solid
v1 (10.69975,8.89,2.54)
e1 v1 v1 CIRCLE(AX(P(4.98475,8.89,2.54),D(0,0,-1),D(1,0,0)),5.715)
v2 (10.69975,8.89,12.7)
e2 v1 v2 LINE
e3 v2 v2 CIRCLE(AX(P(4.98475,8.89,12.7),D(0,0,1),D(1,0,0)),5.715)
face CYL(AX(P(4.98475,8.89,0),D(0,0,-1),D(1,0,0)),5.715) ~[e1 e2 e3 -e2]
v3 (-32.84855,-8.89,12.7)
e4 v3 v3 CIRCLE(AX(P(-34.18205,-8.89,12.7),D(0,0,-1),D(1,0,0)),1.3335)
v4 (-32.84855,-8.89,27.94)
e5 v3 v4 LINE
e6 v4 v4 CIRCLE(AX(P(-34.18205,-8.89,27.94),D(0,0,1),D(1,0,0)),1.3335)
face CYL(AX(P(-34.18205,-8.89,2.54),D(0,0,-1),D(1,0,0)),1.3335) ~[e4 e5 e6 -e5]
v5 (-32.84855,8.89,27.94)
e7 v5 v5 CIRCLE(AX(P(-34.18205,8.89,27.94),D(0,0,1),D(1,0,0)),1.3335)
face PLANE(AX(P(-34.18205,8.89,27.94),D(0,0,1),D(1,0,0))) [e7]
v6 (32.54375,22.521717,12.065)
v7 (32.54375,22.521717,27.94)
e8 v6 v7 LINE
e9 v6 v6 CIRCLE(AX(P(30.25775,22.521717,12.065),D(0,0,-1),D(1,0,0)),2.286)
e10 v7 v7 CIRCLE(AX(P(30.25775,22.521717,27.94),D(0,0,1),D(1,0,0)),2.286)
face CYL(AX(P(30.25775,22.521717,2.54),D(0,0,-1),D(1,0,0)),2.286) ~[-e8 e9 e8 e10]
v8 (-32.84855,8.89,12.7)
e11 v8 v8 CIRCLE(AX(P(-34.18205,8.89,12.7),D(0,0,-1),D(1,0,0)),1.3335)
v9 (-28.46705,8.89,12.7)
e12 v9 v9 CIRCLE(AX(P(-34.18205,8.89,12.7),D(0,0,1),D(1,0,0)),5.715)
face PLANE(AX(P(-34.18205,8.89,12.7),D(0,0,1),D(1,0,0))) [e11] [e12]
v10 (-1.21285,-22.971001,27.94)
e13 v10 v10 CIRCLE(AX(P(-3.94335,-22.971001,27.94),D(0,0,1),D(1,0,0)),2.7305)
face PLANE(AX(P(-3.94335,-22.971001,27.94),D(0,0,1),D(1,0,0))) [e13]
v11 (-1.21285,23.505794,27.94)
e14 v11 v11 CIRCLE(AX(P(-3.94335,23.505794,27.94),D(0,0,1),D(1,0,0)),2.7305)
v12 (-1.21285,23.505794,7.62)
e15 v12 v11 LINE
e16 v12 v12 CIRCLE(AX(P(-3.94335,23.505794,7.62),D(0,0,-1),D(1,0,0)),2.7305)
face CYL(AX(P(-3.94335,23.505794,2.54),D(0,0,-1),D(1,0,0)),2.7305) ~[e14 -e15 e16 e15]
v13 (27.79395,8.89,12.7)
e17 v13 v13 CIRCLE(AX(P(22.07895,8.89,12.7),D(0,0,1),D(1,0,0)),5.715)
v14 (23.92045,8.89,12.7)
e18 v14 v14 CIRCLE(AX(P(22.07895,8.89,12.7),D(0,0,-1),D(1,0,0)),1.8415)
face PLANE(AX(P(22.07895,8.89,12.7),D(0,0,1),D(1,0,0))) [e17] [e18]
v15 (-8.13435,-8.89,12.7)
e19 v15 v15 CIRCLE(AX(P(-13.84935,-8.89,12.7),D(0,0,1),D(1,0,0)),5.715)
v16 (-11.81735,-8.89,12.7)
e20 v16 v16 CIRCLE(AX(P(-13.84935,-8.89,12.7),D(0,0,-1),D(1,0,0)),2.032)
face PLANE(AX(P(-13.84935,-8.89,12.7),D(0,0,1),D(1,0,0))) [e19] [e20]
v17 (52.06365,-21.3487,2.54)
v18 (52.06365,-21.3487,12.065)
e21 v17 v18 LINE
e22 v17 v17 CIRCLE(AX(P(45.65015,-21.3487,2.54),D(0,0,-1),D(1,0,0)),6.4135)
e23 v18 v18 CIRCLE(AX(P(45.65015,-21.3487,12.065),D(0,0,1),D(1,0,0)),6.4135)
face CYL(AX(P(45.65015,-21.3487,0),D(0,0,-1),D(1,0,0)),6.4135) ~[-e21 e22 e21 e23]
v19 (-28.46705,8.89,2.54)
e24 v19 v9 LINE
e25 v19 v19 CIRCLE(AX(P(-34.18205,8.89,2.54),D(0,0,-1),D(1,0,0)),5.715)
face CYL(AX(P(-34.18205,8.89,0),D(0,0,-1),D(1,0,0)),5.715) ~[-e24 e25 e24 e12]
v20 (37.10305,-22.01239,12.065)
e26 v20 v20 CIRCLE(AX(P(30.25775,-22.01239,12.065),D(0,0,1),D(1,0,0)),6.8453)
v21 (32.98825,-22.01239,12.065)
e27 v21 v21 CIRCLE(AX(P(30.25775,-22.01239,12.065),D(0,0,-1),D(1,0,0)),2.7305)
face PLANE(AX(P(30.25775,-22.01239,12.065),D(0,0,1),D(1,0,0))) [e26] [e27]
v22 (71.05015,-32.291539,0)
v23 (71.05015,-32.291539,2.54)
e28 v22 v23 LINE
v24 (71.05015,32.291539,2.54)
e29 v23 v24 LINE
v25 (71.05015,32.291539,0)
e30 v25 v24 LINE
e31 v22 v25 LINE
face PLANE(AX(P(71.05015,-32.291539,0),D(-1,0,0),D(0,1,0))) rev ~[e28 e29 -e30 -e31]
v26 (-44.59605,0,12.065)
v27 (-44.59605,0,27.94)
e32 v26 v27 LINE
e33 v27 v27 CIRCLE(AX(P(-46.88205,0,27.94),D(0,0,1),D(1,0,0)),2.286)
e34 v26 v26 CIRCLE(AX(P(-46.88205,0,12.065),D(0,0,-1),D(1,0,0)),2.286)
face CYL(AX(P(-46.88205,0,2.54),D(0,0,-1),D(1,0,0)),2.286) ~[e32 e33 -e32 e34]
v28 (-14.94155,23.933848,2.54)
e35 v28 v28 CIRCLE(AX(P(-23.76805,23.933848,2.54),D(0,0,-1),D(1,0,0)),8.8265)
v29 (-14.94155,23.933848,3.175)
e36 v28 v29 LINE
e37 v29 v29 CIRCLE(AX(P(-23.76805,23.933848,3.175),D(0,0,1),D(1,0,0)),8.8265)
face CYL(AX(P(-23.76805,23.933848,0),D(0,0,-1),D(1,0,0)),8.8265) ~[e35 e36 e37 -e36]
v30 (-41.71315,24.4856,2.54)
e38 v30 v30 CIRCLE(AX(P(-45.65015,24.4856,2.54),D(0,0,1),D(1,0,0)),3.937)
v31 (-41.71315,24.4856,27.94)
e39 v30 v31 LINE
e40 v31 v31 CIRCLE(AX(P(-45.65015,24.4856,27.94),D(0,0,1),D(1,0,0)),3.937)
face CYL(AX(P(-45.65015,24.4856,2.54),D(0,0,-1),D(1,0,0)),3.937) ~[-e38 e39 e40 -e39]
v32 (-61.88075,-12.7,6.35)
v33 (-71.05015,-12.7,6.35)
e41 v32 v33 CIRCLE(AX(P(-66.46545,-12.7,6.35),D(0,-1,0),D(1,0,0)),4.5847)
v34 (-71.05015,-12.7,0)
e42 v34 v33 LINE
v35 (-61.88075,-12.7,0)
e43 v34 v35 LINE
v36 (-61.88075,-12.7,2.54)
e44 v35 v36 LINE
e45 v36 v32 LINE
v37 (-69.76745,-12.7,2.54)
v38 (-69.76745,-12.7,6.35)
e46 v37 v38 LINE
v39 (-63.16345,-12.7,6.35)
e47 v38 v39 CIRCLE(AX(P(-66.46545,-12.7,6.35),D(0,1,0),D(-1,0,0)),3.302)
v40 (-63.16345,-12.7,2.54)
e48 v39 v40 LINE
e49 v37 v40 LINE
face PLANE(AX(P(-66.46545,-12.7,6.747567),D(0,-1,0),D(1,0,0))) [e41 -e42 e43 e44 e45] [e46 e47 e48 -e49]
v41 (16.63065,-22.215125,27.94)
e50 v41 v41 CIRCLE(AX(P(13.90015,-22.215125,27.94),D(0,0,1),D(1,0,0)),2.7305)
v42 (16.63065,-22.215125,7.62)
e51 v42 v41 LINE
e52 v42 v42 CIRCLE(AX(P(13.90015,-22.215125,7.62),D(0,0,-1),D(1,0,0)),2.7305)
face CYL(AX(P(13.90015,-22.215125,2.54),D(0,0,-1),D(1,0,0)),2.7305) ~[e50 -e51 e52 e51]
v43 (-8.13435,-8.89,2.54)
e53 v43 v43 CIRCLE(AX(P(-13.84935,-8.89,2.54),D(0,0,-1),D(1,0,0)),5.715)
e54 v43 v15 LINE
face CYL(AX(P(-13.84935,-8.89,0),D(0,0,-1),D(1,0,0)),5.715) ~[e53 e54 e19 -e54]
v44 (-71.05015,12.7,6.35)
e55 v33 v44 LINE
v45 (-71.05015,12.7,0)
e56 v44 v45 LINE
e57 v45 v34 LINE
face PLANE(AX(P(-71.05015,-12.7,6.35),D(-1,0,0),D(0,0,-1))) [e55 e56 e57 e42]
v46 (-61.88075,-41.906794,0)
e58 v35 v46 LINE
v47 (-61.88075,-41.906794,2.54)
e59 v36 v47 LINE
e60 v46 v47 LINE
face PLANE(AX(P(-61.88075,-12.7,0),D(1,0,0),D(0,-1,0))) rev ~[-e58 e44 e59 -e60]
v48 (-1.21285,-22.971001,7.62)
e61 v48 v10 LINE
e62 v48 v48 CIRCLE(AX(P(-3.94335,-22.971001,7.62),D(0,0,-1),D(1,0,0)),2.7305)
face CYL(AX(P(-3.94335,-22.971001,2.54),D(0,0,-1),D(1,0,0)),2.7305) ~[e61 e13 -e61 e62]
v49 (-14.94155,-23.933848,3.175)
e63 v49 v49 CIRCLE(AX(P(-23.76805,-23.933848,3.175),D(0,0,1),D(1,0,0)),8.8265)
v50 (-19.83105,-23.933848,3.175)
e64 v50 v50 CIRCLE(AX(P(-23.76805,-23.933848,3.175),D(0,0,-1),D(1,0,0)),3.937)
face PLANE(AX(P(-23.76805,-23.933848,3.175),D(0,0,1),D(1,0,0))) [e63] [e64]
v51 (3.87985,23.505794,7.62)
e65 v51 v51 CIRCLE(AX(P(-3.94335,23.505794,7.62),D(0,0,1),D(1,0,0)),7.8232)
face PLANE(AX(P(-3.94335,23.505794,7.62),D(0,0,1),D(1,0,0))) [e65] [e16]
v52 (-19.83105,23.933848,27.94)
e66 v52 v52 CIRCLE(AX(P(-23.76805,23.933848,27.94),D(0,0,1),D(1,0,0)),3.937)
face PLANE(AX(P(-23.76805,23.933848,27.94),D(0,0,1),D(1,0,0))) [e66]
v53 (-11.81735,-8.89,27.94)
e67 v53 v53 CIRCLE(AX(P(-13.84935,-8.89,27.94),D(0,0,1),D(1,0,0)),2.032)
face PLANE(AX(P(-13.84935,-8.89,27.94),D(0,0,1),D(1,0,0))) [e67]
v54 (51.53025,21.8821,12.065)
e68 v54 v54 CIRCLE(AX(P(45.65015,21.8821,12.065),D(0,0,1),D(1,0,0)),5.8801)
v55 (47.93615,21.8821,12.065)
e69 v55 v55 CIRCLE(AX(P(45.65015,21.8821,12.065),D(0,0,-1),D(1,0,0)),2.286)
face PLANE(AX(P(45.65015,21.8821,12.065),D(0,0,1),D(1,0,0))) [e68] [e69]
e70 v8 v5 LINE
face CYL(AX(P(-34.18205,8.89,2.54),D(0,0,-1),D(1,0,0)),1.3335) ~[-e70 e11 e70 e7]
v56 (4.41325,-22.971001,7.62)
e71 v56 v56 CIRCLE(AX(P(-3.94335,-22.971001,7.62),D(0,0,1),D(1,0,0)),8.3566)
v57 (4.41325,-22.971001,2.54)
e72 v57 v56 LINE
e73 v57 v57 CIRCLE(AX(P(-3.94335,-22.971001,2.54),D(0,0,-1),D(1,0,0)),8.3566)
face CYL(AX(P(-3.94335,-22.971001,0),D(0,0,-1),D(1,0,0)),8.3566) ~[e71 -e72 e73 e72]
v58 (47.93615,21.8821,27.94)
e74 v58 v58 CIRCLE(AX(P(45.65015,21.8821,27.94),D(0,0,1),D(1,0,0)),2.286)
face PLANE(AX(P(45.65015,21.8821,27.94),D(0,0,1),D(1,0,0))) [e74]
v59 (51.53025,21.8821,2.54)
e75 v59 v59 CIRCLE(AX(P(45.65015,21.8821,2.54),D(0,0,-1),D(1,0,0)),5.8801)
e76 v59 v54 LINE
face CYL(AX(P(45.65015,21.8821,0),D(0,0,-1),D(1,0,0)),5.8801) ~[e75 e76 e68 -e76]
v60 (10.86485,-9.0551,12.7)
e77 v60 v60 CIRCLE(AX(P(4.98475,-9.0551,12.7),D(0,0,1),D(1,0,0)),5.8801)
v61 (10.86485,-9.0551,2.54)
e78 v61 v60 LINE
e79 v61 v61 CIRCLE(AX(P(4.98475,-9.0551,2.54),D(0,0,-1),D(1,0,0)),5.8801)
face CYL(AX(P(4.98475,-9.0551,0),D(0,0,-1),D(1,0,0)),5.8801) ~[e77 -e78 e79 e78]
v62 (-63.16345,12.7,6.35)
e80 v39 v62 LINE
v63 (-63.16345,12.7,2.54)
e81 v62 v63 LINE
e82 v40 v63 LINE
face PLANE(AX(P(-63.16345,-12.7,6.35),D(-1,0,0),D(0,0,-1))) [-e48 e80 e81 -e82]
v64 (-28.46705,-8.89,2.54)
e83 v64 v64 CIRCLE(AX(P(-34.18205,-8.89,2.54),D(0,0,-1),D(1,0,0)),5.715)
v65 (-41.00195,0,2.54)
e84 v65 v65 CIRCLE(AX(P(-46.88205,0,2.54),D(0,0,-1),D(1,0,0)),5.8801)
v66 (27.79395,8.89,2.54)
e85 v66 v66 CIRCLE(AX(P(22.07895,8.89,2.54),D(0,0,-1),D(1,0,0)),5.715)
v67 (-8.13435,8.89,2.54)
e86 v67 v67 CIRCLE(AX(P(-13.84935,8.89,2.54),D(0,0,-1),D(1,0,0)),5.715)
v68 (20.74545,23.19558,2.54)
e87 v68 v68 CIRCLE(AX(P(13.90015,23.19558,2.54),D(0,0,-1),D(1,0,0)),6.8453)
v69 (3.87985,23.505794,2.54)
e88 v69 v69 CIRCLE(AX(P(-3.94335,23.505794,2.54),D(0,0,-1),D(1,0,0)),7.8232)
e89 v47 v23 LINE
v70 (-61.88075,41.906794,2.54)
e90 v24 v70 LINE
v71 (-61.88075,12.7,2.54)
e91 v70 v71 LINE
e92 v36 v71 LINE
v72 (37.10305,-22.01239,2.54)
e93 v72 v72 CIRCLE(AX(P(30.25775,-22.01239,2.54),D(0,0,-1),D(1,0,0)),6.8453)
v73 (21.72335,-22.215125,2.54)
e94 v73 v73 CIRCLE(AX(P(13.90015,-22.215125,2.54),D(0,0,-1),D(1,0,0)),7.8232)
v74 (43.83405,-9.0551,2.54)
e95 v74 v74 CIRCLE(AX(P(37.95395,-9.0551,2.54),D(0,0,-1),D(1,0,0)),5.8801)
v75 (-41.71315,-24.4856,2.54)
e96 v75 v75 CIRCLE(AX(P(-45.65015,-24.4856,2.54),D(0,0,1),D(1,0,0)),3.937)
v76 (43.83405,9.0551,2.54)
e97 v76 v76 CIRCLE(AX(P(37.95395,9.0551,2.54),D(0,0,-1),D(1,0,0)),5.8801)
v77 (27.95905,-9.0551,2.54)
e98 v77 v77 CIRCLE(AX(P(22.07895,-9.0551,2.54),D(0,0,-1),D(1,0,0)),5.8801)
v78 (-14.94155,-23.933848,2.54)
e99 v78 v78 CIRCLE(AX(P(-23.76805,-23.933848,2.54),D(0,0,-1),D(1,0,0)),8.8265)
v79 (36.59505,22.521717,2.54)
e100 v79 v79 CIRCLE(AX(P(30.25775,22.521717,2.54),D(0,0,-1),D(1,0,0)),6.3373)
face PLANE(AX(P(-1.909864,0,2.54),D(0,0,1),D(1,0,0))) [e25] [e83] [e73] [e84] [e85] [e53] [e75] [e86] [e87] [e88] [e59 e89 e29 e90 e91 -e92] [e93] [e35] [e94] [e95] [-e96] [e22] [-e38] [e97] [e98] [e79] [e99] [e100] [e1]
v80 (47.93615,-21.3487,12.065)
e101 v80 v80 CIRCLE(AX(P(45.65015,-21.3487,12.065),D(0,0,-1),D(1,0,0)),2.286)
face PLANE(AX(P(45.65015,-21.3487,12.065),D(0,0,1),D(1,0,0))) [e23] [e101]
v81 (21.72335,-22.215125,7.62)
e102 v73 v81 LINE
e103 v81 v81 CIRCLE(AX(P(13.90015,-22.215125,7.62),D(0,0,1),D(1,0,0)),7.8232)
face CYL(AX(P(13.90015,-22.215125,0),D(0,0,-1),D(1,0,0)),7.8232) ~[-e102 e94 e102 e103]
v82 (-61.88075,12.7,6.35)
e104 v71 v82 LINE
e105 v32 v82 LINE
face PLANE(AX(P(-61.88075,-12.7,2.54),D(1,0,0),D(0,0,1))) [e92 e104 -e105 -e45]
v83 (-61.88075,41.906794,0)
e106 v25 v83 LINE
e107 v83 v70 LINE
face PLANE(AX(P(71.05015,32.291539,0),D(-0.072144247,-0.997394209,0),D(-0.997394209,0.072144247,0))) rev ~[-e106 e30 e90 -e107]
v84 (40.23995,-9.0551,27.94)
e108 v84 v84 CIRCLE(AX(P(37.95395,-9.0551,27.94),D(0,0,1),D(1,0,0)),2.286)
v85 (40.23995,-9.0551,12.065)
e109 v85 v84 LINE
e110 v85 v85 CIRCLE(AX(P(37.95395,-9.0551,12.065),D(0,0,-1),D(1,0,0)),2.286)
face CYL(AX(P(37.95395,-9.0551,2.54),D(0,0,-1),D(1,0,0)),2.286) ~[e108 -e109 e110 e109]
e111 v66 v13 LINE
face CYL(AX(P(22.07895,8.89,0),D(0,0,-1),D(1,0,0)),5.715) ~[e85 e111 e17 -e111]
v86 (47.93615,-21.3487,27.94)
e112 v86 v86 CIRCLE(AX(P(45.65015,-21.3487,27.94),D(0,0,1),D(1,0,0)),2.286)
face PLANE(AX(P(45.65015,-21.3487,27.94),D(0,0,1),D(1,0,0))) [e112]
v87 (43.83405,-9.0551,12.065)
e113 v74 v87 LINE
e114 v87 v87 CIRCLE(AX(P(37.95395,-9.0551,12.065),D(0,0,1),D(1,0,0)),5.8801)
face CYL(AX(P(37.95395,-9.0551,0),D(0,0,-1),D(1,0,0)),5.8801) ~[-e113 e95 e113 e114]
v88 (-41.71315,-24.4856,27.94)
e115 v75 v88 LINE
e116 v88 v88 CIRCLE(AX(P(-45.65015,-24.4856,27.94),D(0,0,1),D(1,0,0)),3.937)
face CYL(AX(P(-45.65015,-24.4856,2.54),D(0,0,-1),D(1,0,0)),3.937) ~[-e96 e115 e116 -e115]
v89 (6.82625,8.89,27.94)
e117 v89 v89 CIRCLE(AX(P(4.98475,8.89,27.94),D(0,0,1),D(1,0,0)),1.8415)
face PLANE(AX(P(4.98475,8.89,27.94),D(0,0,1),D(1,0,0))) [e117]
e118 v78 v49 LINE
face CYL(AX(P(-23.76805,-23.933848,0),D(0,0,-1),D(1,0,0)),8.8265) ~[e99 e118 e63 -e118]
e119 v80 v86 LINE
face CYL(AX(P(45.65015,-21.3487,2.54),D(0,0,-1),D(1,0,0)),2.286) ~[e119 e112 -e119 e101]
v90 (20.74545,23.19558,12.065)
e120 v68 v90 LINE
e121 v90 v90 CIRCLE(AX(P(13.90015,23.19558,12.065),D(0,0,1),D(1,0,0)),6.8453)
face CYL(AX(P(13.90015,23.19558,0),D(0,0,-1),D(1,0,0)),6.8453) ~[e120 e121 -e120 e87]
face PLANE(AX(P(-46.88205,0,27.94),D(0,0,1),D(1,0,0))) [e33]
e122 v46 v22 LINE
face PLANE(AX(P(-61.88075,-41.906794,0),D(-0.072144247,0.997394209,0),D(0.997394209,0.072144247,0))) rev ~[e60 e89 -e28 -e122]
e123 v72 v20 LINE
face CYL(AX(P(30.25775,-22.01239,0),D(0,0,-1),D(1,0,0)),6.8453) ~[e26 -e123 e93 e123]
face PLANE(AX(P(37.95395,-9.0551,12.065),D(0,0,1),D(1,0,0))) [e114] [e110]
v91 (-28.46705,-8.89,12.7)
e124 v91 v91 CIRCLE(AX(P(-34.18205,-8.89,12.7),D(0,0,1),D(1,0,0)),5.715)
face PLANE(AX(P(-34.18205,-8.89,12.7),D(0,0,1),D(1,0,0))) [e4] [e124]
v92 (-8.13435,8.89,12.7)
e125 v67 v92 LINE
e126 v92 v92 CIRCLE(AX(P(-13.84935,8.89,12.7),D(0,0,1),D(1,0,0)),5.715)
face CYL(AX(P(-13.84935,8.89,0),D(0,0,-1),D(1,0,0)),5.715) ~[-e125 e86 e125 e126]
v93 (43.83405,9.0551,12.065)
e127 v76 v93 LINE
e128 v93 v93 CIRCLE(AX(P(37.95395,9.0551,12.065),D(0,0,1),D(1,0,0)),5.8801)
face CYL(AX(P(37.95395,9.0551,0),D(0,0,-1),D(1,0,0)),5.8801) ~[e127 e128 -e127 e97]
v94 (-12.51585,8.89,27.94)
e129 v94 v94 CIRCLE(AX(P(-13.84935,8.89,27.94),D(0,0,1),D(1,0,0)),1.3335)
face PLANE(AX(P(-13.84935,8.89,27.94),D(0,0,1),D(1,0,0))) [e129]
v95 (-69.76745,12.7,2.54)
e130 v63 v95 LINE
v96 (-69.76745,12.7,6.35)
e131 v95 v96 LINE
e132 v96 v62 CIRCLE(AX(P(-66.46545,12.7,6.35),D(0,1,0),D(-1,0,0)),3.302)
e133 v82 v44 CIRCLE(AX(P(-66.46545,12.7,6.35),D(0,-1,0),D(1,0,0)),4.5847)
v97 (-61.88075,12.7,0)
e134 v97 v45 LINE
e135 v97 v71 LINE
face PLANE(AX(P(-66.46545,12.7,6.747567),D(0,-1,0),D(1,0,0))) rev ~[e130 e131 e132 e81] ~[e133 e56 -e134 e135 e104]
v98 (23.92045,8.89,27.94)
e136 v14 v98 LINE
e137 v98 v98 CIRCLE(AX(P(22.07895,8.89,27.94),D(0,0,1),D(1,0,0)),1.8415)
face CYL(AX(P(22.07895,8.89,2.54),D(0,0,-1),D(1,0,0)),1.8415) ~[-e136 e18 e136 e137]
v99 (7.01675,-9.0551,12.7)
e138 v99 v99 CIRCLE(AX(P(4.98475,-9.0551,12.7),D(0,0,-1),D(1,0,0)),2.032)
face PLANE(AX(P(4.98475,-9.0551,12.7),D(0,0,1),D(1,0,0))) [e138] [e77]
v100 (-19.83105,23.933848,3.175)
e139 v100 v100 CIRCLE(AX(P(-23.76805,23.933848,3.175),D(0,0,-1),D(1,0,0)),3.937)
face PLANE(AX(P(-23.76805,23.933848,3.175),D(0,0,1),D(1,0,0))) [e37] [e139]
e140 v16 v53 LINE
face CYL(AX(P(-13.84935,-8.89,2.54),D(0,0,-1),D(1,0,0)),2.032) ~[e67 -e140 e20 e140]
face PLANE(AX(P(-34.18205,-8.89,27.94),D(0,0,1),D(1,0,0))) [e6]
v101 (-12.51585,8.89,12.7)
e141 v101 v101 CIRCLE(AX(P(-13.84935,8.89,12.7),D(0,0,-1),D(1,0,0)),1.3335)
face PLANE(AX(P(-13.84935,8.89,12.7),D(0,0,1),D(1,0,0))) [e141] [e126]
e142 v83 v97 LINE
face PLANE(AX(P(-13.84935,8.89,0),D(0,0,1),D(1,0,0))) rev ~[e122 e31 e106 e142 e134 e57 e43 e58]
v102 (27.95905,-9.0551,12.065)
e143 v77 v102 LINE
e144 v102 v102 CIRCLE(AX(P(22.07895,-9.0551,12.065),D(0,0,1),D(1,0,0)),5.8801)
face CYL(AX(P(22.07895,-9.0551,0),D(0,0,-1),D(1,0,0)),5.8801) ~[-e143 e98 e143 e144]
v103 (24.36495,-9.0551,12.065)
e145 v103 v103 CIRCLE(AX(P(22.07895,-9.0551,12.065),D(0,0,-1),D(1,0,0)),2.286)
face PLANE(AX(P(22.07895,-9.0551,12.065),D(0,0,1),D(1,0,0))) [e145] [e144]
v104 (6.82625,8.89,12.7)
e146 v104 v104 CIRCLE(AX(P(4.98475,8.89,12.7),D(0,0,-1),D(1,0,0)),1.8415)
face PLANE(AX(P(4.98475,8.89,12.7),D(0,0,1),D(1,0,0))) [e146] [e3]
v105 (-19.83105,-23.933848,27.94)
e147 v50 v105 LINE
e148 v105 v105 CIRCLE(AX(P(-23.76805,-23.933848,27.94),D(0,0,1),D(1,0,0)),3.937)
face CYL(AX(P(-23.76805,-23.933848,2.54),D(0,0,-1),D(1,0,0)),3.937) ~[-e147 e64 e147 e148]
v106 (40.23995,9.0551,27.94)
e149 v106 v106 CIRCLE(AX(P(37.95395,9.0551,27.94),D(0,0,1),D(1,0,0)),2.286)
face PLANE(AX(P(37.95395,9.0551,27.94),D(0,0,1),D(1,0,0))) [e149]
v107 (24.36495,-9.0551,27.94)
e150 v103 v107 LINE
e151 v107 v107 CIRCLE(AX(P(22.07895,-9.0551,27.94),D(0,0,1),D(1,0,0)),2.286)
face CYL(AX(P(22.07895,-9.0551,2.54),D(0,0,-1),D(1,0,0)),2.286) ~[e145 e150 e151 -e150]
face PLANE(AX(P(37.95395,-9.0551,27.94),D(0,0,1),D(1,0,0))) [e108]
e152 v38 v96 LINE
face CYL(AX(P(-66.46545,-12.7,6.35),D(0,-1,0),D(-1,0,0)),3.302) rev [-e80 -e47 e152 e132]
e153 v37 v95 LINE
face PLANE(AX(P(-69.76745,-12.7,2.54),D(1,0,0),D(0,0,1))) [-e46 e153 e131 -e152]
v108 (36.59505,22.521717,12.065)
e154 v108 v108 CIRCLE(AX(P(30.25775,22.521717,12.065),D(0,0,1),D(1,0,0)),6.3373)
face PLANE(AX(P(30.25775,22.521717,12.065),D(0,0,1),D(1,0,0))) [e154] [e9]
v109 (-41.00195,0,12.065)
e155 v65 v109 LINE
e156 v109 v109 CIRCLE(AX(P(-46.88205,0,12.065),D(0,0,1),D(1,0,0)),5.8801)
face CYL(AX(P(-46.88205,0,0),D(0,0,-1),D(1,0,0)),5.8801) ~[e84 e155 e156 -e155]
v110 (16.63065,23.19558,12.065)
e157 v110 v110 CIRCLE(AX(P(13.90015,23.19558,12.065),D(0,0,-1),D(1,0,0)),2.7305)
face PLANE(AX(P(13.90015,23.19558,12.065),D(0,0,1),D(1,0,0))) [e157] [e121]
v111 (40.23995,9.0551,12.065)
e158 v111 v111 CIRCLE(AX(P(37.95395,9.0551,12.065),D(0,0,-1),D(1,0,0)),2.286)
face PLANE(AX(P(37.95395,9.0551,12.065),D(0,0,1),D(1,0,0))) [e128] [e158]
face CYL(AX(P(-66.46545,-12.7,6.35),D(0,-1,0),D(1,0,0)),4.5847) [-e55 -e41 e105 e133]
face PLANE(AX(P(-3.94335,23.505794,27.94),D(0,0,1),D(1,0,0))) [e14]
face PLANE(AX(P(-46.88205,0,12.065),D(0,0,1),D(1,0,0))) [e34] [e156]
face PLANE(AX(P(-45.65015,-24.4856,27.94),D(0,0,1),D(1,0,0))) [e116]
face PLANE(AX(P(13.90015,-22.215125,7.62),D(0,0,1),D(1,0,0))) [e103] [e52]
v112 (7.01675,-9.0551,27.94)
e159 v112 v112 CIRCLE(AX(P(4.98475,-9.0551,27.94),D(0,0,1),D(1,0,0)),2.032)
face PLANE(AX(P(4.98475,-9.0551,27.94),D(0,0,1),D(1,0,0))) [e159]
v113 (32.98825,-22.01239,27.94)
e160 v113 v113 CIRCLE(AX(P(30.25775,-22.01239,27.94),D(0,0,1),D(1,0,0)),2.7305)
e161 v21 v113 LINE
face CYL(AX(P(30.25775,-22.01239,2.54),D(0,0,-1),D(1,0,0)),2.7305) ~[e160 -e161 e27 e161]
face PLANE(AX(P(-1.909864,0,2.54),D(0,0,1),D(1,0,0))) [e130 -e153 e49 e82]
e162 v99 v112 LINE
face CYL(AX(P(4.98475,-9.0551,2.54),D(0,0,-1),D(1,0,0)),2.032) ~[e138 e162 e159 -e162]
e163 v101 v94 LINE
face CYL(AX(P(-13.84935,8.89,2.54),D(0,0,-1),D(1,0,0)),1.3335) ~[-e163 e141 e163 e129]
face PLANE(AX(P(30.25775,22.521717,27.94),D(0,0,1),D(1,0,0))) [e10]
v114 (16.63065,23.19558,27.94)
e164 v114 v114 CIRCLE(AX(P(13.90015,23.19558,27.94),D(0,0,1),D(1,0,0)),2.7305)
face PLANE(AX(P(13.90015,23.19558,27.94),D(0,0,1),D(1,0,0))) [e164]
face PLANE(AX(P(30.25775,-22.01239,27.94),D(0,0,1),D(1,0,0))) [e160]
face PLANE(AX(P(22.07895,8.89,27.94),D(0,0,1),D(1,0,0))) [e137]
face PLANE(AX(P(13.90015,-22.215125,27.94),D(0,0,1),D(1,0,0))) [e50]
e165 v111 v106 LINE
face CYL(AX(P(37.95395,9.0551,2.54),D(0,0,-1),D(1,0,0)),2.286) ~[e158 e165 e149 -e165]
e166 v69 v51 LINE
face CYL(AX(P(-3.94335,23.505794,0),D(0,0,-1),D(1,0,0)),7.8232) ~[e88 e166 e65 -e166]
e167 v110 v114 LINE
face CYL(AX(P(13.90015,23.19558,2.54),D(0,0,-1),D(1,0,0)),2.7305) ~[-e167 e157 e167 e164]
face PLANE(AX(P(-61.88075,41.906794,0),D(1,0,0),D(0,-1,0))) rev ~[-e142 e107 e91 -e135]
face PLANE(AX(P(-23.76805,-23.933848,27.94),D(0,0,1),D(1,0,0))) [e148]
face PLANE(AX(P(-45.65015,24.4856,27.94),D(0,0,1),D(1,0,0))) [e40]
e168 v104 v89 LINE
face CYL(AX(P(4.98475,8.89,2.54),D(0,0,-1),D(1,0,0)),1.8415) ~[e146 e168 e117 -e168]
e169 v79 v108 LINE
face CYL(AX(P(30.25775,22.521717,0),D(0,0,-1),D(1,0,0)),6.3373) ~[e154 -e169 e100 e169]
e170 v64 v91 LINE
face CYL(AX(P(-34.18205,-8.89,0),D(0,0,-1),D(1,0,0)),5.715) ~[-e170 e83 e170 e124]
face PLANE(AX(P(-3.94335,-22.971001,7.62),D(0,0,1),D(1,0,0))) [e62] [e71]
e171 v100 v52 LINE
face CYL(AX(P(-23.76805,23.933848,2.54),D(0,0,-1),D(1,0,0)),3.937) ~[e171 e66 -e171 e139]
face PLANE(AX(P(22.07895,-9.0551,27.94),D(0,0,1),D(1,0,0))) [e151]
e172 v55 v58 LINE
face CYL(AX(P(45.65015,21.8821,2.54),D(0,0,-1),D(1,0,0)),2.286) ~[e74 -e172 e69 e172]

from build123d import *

# Parameters (mm, degrees)
F0_R     = 9.8806
F0_R_2   = 8.8265
F0_R_3   = 8.3566
F0_R_4   = 5.715
F0_R_5   = 7.8232
F0_R_6   = 6.8453
F0_R_7   = 6.4135
F0_R_8   = 5.8801
F0_R_9   = 6.3373
F1_DEPTH = 2.54
F2_DEPTH = 3.175
F3_DEPTH = 7.62
F4_DEPTH = 12.065
F5_DEPTH = 12.7
F6_R     = 3.937
F6_R_2   = 2.7305
F6_R_3   = 2.286
F6_R_4   = 1.8415
F6_R_5   = 1.3335
F6_R_6   = 2.032
F7_DEPTH = 25.4
F9_DEPTH = 25.4


with BuildPart() as f1:
    # F0 (on Top) → F1 (new body)
    with BuildSketch(Plane.XY):
        Polygon((-61.88075, 12.7), (-71.05015, 12.7), (-71.05015, -12.7), (-61.88075, -12.7), (-61.88075, -41.906793621), (71.05015, -32.2915386482), (71.05015, 32.2915386482), (-61.88075, 41.906793621), align=None)
        with Locations((-45.65015, -24.4856)):
            Circle(F0_R, mode=Mode.SUBTRACT)
        with Locations((-23.76805, -23.9338478505)):
            Circle(F0_R_2, mode=Mode.SUBTRACT)
        with Locations((-3.94335, -22.9710008273)):
            Circle(F0_R_3, mode=Mode.SUBTRACT)
        with Locations((-34.18205, -8.89)):
            Circle(F0_R_4, mode=Mode.SUBTRACT)
        with Locations((-13.84935, -8.89)):
            Circle(F0_R_4, mode=Mode.SUBTRACT)
        with Locations((13.90015, -22.2151253099)):
            Circle(F0_R_5, mode=Mode.SUBTRACT)
        with Locations((30.25775, -22.0123902971)):
            Circle(F0_R_6, mode=Mode.SUBTRACT)
        with Locations((45.65015, -21.3487)):
            Circle(F0_R_7, mode=Mode.SUBTRACT)
        with Locations((4.98475, -9.0551)):
            Circle(F0_R_8, mode=Mode.SUBTRACT)
        with Locations((22.07895, -9.0551)):
            Circle(F0_R_8, mode=Mode.SUBTRACT)
        with Locations((37.95395, -9.0551)):
            Circle(F0_R_8, mode=Mode.SUBTRACT)
        with Locations((-46.88205, 0)):
            Circle(F0_R_8, mode=Mode.SUBTRACT)
        with Locations((-34.18205, 8.89)):
            Circle(F0_R_4, mode=Mode.SUBTRACT)
        with Locations((-13.84935, 8.89)):
            Circle(F0_R_4, mode=Mode.SUBTRACT)
        with Locations((-45.65015, 24.4856)):
            Circle(F0_R, mode=Mode.SUBTRACT)
        with Locations((-23.76805, 23.9338478505)):
            Circle(F0_R_2, mode=Mode.SUBTRACT)
        with Locations((-3.94335, 23.5057943876)):
            Circle(F0_R_5, mode=Mode.SUBTRACT)
        with Locations((4.98475, 8.89)):
            Circle(F0_R_4, mode=Mode.SUBTRACT)
        with Locations((22.07895, 8.89)):
            Circle(F0_R_4, mode=Mode.SUBTRACT)
        with Locations((37.95395, 9.0551)):
            Circle(F0_R_8, mode=Mode.SUBTRACT)
        with Locations((13.90015, 23.1955801706)):
            Circle(F0_R_6, mode=Mode.SUBTRACT)
        with Locations((30.25775, 22.5217174975)):
            Circle(F0_R_9, mode=Mode.SUBTRACT)
        with Locations((45.65015, 21.8821)):
            Circle(F0_R_8, mode=Mode.SUBTRACT)
        with Locations((-45.65015, 24.4856)):
            Circle(F0_R)
        with Locations((-45.65015, -24.4856)):
            Circle(F0_R)
        with Locations((-23.76805, 23.9338478505)):
            Circle(F0_R_2)
        with Locations((-23.76805, -23.9338478505)):
            Circle(F0_R_2)
        with Locations((-3.94335, -22.9710008273)):
            Circle(F0_R_3)
        with Locations((-3.94335, 23.5057943876)):
            Circle(F0_R_5)
        with Locations((13.90015, -22.2151253099)):
            Circle(F0_R_5)
        with Locations((13.90015, 23.1955801706)):
            Circle(F0_R_6)
        with Locations((30.25775, -22.0123902971)):
            Circle(F0_R_6)
        with Locations((45.65015, -21.3487)):
            Circle(F0_R_7)
        with Locations((30.25775, 22.5217174975)):
            Circle(F0_R_9)
        with Locations((45.65015, 21.8821)):
            Circle(F0_R_8)
        with Locations((37.95395, 9.0551)):
            Circle(F0_R_8)
        with Locations((-46.88205, 0)):
            Circle(F0_R_8)
        with Locations((4.98475, -9.0551)):
            Circle(F0_R_8)
        with Locations((22.07895, -9.0551)):
            Circle(F0_R_8)
        with Locations((37.95395, -9.0551)):
            Circle(F0_R_8)
        with Locations((22.07895, 8.89)):
            Circle(F0_R_4)
        with Locations((4.98475, 8.89)):
            Circle(F0_R_4)
        with Locations((-13.84935, 8.89)):
            Circle(F0_R_4)
        with Locations((-34.18205, 8.89)):
            Circle(F0_R_4)
        with Locations((-34.18205, -8.89)):
            Circle(F0_R_4)
        with Locations((-13.84935, -8.89)):
            Circle(F0_R_4)
    extrude(amount=F1_DEPTH)

    # F0 (on Top) → F2 (join)
    with BuildSketch(Plane.XY):
        with Locations((-23.76805, 23.9338478505)):
            Circle(F0_R_2)
        with Locations((-23.76805, -23.9338478505)):
            Circle(F0_R_2)
    extrude(amount=F2_DEPTH)

    # F0 (on Top) → F3 (join)
    with BuildSketch(Plane.XY):
        with Locations((-3.94335, 23.5057943876)):
            Circle(F0_R_5)
        with Locations((-3.94335, -22.9710008273)):
            Circle(F0_R_3)
        with Locations((13.90015, -22.2151253099)):
            Circle(F0_R_5)
    extrude(amount=F3_DEPTH)

    # F0 (on Top) → F4 (join)
    with BuildSketch(Plane.XY):
        with Locations((13.90015, 23.1955801706)):
            Circle(F0_R_6)
        with Locations((30.25775, 22.5217174975)):
            Circle(F0_R_9)
        with Locations((45.65015, 21.8821)):
            Circle(F0_R_8)
        with Locations((30.25775, -22.0123902971)):
            Circle(F0_R_6)
        with Locations((45.65015, -21.3487)):
            Circle(F0_R_7)
        with Locations((37.95395, -9.0551)):
            Circle(F0_R_8)
        with Locations((22.07895, -9.0551)):
            Circle(F0_R_8)
        with Locations((37.95395, 9.0551)):
            Circle(F0_R_8)
        with Locations((-46.88205, 0)):
            Circle(F0_R_8)
    extrude(amount=F4_DEPTH)

    # F0 (on Top) → F5 (join)
    with BuildSketch(Plane.XY):
        with Locations((-13.84935, 8.89)):
            Circle(F0_R_4)
        with Locations((4.98475, 8.89)):
            Circle(F0_R_4)
        with Locations((22.07895, 8.89)):
            Circle(F0_R_4)
        with Locations((4.98475, -9.0551)):
            Circle(F0_R_8)
        with Locations((-13.84935, -8.89)):
            Circle(F0_R_4)
        with Locations((-34.18205, -8.89)):
            Circle(F0_R_4)
        with Locations((-34.18205, 8.89)):
            Circle(F0_R_4)
    extrude(amount=F5_DEPTH)

    # F6 (on face) → F7 (join)
    with BuildSketch(Plane.XY.offset(2.54)):
        with Locations((-45.65015, 24.4856)):
            Circle(F6_R)
        with Locations((-23.76805, 23.9338478505)):
            Circle(F6_R)
        with Locations((-3.94335, 23.5057943876)):
            Circle(F6_R_2)
        with Locations((13.90015, 23.1955801706)):
            Circle(F6_R_2)
        with Locations((30.25775, 22.5217174975)):
            Circle(F6_R_3)
        with Locations((45.65015, 21.8821)):
            Circle(F6_R_3)
        with Locations((37.95395, 9.0551)):
            Circle(F6_R_3)
        with Locations((22.07895, 8.89)):
            Circle(F6_R_4)
        with Locations((4.98475, 8.89)):
            Circle(F6_R_4)
        with Locations((-13.84935, 8.89)):
            Circle(F6_R_5)
        with Locations((-34.18205, 8.89)):
            Circle(F6_R_5)
        with Locations((-45.65015, -24.4856)):
            Circle(F6_R)
        with Locations((-23.76805, -23.9338478505)):
            Circle(F6_R)
        with Locations((-3.94335, -22.9710008273)):
            Circle(F6_R_2)
        with Locations((13.90015, -22.2151253099)):
            Circle(F6_R_2)
        with Locations((30.25775, -22.0123902971)):
            Circle(F6_R_2)
        with Locations((45.65015, -21.3487)):
            Circle(F6_R_3)
        with Locations((37.95395, -9.0551)):
            Circle(F6_R_3)
        with Locations((22.07895, -9.0551)):
            Circle(F6_R_3)
        with Locations((4.98475, -9.0551)):
            Circle(F6_R_6)
        with Locations((-13.84935, -8.89)):
            Circle(F6_R_6)
        with Locations((-34.18205, -8.89)):
            Circle(F6_R_5)
        with Locations((-46.88205, 0)):
            Circle(F6_R_3)
    extrude(amount=F7_DEPTH)

    # F8 (on face) → F9 (join, through all)
    with BuildSketch(Plane.XZ.offset(12.7)):
        with BuildLine():
            Line((-71.05015, 6.35), (-71.05015, 2.54))
            Line((-71.05015, 2.54), (-69.76745, 2.54))
            Line((-69.76745, 2.54), (-69.76745, 6.35))
            ThreePointArc((-69.76745, 6.35), (-66.46545, 9.652), (-63.16345, 6.35))
            Line((-63.16345, 6.35), (-63.16345, 2.54))
            Line((-63.16345, 2.54), (-61.88075, 2.54))
            Line((-61.88075, 2.54), (-61.88075, 6.35))
            ThreePointArc((-61.88075, 6.35), (-66.46545, 10.9347), (-71.05015, 6.35))
        make_face()
    extrude(amount=-F9_DEPTH)


solid = f1.part
